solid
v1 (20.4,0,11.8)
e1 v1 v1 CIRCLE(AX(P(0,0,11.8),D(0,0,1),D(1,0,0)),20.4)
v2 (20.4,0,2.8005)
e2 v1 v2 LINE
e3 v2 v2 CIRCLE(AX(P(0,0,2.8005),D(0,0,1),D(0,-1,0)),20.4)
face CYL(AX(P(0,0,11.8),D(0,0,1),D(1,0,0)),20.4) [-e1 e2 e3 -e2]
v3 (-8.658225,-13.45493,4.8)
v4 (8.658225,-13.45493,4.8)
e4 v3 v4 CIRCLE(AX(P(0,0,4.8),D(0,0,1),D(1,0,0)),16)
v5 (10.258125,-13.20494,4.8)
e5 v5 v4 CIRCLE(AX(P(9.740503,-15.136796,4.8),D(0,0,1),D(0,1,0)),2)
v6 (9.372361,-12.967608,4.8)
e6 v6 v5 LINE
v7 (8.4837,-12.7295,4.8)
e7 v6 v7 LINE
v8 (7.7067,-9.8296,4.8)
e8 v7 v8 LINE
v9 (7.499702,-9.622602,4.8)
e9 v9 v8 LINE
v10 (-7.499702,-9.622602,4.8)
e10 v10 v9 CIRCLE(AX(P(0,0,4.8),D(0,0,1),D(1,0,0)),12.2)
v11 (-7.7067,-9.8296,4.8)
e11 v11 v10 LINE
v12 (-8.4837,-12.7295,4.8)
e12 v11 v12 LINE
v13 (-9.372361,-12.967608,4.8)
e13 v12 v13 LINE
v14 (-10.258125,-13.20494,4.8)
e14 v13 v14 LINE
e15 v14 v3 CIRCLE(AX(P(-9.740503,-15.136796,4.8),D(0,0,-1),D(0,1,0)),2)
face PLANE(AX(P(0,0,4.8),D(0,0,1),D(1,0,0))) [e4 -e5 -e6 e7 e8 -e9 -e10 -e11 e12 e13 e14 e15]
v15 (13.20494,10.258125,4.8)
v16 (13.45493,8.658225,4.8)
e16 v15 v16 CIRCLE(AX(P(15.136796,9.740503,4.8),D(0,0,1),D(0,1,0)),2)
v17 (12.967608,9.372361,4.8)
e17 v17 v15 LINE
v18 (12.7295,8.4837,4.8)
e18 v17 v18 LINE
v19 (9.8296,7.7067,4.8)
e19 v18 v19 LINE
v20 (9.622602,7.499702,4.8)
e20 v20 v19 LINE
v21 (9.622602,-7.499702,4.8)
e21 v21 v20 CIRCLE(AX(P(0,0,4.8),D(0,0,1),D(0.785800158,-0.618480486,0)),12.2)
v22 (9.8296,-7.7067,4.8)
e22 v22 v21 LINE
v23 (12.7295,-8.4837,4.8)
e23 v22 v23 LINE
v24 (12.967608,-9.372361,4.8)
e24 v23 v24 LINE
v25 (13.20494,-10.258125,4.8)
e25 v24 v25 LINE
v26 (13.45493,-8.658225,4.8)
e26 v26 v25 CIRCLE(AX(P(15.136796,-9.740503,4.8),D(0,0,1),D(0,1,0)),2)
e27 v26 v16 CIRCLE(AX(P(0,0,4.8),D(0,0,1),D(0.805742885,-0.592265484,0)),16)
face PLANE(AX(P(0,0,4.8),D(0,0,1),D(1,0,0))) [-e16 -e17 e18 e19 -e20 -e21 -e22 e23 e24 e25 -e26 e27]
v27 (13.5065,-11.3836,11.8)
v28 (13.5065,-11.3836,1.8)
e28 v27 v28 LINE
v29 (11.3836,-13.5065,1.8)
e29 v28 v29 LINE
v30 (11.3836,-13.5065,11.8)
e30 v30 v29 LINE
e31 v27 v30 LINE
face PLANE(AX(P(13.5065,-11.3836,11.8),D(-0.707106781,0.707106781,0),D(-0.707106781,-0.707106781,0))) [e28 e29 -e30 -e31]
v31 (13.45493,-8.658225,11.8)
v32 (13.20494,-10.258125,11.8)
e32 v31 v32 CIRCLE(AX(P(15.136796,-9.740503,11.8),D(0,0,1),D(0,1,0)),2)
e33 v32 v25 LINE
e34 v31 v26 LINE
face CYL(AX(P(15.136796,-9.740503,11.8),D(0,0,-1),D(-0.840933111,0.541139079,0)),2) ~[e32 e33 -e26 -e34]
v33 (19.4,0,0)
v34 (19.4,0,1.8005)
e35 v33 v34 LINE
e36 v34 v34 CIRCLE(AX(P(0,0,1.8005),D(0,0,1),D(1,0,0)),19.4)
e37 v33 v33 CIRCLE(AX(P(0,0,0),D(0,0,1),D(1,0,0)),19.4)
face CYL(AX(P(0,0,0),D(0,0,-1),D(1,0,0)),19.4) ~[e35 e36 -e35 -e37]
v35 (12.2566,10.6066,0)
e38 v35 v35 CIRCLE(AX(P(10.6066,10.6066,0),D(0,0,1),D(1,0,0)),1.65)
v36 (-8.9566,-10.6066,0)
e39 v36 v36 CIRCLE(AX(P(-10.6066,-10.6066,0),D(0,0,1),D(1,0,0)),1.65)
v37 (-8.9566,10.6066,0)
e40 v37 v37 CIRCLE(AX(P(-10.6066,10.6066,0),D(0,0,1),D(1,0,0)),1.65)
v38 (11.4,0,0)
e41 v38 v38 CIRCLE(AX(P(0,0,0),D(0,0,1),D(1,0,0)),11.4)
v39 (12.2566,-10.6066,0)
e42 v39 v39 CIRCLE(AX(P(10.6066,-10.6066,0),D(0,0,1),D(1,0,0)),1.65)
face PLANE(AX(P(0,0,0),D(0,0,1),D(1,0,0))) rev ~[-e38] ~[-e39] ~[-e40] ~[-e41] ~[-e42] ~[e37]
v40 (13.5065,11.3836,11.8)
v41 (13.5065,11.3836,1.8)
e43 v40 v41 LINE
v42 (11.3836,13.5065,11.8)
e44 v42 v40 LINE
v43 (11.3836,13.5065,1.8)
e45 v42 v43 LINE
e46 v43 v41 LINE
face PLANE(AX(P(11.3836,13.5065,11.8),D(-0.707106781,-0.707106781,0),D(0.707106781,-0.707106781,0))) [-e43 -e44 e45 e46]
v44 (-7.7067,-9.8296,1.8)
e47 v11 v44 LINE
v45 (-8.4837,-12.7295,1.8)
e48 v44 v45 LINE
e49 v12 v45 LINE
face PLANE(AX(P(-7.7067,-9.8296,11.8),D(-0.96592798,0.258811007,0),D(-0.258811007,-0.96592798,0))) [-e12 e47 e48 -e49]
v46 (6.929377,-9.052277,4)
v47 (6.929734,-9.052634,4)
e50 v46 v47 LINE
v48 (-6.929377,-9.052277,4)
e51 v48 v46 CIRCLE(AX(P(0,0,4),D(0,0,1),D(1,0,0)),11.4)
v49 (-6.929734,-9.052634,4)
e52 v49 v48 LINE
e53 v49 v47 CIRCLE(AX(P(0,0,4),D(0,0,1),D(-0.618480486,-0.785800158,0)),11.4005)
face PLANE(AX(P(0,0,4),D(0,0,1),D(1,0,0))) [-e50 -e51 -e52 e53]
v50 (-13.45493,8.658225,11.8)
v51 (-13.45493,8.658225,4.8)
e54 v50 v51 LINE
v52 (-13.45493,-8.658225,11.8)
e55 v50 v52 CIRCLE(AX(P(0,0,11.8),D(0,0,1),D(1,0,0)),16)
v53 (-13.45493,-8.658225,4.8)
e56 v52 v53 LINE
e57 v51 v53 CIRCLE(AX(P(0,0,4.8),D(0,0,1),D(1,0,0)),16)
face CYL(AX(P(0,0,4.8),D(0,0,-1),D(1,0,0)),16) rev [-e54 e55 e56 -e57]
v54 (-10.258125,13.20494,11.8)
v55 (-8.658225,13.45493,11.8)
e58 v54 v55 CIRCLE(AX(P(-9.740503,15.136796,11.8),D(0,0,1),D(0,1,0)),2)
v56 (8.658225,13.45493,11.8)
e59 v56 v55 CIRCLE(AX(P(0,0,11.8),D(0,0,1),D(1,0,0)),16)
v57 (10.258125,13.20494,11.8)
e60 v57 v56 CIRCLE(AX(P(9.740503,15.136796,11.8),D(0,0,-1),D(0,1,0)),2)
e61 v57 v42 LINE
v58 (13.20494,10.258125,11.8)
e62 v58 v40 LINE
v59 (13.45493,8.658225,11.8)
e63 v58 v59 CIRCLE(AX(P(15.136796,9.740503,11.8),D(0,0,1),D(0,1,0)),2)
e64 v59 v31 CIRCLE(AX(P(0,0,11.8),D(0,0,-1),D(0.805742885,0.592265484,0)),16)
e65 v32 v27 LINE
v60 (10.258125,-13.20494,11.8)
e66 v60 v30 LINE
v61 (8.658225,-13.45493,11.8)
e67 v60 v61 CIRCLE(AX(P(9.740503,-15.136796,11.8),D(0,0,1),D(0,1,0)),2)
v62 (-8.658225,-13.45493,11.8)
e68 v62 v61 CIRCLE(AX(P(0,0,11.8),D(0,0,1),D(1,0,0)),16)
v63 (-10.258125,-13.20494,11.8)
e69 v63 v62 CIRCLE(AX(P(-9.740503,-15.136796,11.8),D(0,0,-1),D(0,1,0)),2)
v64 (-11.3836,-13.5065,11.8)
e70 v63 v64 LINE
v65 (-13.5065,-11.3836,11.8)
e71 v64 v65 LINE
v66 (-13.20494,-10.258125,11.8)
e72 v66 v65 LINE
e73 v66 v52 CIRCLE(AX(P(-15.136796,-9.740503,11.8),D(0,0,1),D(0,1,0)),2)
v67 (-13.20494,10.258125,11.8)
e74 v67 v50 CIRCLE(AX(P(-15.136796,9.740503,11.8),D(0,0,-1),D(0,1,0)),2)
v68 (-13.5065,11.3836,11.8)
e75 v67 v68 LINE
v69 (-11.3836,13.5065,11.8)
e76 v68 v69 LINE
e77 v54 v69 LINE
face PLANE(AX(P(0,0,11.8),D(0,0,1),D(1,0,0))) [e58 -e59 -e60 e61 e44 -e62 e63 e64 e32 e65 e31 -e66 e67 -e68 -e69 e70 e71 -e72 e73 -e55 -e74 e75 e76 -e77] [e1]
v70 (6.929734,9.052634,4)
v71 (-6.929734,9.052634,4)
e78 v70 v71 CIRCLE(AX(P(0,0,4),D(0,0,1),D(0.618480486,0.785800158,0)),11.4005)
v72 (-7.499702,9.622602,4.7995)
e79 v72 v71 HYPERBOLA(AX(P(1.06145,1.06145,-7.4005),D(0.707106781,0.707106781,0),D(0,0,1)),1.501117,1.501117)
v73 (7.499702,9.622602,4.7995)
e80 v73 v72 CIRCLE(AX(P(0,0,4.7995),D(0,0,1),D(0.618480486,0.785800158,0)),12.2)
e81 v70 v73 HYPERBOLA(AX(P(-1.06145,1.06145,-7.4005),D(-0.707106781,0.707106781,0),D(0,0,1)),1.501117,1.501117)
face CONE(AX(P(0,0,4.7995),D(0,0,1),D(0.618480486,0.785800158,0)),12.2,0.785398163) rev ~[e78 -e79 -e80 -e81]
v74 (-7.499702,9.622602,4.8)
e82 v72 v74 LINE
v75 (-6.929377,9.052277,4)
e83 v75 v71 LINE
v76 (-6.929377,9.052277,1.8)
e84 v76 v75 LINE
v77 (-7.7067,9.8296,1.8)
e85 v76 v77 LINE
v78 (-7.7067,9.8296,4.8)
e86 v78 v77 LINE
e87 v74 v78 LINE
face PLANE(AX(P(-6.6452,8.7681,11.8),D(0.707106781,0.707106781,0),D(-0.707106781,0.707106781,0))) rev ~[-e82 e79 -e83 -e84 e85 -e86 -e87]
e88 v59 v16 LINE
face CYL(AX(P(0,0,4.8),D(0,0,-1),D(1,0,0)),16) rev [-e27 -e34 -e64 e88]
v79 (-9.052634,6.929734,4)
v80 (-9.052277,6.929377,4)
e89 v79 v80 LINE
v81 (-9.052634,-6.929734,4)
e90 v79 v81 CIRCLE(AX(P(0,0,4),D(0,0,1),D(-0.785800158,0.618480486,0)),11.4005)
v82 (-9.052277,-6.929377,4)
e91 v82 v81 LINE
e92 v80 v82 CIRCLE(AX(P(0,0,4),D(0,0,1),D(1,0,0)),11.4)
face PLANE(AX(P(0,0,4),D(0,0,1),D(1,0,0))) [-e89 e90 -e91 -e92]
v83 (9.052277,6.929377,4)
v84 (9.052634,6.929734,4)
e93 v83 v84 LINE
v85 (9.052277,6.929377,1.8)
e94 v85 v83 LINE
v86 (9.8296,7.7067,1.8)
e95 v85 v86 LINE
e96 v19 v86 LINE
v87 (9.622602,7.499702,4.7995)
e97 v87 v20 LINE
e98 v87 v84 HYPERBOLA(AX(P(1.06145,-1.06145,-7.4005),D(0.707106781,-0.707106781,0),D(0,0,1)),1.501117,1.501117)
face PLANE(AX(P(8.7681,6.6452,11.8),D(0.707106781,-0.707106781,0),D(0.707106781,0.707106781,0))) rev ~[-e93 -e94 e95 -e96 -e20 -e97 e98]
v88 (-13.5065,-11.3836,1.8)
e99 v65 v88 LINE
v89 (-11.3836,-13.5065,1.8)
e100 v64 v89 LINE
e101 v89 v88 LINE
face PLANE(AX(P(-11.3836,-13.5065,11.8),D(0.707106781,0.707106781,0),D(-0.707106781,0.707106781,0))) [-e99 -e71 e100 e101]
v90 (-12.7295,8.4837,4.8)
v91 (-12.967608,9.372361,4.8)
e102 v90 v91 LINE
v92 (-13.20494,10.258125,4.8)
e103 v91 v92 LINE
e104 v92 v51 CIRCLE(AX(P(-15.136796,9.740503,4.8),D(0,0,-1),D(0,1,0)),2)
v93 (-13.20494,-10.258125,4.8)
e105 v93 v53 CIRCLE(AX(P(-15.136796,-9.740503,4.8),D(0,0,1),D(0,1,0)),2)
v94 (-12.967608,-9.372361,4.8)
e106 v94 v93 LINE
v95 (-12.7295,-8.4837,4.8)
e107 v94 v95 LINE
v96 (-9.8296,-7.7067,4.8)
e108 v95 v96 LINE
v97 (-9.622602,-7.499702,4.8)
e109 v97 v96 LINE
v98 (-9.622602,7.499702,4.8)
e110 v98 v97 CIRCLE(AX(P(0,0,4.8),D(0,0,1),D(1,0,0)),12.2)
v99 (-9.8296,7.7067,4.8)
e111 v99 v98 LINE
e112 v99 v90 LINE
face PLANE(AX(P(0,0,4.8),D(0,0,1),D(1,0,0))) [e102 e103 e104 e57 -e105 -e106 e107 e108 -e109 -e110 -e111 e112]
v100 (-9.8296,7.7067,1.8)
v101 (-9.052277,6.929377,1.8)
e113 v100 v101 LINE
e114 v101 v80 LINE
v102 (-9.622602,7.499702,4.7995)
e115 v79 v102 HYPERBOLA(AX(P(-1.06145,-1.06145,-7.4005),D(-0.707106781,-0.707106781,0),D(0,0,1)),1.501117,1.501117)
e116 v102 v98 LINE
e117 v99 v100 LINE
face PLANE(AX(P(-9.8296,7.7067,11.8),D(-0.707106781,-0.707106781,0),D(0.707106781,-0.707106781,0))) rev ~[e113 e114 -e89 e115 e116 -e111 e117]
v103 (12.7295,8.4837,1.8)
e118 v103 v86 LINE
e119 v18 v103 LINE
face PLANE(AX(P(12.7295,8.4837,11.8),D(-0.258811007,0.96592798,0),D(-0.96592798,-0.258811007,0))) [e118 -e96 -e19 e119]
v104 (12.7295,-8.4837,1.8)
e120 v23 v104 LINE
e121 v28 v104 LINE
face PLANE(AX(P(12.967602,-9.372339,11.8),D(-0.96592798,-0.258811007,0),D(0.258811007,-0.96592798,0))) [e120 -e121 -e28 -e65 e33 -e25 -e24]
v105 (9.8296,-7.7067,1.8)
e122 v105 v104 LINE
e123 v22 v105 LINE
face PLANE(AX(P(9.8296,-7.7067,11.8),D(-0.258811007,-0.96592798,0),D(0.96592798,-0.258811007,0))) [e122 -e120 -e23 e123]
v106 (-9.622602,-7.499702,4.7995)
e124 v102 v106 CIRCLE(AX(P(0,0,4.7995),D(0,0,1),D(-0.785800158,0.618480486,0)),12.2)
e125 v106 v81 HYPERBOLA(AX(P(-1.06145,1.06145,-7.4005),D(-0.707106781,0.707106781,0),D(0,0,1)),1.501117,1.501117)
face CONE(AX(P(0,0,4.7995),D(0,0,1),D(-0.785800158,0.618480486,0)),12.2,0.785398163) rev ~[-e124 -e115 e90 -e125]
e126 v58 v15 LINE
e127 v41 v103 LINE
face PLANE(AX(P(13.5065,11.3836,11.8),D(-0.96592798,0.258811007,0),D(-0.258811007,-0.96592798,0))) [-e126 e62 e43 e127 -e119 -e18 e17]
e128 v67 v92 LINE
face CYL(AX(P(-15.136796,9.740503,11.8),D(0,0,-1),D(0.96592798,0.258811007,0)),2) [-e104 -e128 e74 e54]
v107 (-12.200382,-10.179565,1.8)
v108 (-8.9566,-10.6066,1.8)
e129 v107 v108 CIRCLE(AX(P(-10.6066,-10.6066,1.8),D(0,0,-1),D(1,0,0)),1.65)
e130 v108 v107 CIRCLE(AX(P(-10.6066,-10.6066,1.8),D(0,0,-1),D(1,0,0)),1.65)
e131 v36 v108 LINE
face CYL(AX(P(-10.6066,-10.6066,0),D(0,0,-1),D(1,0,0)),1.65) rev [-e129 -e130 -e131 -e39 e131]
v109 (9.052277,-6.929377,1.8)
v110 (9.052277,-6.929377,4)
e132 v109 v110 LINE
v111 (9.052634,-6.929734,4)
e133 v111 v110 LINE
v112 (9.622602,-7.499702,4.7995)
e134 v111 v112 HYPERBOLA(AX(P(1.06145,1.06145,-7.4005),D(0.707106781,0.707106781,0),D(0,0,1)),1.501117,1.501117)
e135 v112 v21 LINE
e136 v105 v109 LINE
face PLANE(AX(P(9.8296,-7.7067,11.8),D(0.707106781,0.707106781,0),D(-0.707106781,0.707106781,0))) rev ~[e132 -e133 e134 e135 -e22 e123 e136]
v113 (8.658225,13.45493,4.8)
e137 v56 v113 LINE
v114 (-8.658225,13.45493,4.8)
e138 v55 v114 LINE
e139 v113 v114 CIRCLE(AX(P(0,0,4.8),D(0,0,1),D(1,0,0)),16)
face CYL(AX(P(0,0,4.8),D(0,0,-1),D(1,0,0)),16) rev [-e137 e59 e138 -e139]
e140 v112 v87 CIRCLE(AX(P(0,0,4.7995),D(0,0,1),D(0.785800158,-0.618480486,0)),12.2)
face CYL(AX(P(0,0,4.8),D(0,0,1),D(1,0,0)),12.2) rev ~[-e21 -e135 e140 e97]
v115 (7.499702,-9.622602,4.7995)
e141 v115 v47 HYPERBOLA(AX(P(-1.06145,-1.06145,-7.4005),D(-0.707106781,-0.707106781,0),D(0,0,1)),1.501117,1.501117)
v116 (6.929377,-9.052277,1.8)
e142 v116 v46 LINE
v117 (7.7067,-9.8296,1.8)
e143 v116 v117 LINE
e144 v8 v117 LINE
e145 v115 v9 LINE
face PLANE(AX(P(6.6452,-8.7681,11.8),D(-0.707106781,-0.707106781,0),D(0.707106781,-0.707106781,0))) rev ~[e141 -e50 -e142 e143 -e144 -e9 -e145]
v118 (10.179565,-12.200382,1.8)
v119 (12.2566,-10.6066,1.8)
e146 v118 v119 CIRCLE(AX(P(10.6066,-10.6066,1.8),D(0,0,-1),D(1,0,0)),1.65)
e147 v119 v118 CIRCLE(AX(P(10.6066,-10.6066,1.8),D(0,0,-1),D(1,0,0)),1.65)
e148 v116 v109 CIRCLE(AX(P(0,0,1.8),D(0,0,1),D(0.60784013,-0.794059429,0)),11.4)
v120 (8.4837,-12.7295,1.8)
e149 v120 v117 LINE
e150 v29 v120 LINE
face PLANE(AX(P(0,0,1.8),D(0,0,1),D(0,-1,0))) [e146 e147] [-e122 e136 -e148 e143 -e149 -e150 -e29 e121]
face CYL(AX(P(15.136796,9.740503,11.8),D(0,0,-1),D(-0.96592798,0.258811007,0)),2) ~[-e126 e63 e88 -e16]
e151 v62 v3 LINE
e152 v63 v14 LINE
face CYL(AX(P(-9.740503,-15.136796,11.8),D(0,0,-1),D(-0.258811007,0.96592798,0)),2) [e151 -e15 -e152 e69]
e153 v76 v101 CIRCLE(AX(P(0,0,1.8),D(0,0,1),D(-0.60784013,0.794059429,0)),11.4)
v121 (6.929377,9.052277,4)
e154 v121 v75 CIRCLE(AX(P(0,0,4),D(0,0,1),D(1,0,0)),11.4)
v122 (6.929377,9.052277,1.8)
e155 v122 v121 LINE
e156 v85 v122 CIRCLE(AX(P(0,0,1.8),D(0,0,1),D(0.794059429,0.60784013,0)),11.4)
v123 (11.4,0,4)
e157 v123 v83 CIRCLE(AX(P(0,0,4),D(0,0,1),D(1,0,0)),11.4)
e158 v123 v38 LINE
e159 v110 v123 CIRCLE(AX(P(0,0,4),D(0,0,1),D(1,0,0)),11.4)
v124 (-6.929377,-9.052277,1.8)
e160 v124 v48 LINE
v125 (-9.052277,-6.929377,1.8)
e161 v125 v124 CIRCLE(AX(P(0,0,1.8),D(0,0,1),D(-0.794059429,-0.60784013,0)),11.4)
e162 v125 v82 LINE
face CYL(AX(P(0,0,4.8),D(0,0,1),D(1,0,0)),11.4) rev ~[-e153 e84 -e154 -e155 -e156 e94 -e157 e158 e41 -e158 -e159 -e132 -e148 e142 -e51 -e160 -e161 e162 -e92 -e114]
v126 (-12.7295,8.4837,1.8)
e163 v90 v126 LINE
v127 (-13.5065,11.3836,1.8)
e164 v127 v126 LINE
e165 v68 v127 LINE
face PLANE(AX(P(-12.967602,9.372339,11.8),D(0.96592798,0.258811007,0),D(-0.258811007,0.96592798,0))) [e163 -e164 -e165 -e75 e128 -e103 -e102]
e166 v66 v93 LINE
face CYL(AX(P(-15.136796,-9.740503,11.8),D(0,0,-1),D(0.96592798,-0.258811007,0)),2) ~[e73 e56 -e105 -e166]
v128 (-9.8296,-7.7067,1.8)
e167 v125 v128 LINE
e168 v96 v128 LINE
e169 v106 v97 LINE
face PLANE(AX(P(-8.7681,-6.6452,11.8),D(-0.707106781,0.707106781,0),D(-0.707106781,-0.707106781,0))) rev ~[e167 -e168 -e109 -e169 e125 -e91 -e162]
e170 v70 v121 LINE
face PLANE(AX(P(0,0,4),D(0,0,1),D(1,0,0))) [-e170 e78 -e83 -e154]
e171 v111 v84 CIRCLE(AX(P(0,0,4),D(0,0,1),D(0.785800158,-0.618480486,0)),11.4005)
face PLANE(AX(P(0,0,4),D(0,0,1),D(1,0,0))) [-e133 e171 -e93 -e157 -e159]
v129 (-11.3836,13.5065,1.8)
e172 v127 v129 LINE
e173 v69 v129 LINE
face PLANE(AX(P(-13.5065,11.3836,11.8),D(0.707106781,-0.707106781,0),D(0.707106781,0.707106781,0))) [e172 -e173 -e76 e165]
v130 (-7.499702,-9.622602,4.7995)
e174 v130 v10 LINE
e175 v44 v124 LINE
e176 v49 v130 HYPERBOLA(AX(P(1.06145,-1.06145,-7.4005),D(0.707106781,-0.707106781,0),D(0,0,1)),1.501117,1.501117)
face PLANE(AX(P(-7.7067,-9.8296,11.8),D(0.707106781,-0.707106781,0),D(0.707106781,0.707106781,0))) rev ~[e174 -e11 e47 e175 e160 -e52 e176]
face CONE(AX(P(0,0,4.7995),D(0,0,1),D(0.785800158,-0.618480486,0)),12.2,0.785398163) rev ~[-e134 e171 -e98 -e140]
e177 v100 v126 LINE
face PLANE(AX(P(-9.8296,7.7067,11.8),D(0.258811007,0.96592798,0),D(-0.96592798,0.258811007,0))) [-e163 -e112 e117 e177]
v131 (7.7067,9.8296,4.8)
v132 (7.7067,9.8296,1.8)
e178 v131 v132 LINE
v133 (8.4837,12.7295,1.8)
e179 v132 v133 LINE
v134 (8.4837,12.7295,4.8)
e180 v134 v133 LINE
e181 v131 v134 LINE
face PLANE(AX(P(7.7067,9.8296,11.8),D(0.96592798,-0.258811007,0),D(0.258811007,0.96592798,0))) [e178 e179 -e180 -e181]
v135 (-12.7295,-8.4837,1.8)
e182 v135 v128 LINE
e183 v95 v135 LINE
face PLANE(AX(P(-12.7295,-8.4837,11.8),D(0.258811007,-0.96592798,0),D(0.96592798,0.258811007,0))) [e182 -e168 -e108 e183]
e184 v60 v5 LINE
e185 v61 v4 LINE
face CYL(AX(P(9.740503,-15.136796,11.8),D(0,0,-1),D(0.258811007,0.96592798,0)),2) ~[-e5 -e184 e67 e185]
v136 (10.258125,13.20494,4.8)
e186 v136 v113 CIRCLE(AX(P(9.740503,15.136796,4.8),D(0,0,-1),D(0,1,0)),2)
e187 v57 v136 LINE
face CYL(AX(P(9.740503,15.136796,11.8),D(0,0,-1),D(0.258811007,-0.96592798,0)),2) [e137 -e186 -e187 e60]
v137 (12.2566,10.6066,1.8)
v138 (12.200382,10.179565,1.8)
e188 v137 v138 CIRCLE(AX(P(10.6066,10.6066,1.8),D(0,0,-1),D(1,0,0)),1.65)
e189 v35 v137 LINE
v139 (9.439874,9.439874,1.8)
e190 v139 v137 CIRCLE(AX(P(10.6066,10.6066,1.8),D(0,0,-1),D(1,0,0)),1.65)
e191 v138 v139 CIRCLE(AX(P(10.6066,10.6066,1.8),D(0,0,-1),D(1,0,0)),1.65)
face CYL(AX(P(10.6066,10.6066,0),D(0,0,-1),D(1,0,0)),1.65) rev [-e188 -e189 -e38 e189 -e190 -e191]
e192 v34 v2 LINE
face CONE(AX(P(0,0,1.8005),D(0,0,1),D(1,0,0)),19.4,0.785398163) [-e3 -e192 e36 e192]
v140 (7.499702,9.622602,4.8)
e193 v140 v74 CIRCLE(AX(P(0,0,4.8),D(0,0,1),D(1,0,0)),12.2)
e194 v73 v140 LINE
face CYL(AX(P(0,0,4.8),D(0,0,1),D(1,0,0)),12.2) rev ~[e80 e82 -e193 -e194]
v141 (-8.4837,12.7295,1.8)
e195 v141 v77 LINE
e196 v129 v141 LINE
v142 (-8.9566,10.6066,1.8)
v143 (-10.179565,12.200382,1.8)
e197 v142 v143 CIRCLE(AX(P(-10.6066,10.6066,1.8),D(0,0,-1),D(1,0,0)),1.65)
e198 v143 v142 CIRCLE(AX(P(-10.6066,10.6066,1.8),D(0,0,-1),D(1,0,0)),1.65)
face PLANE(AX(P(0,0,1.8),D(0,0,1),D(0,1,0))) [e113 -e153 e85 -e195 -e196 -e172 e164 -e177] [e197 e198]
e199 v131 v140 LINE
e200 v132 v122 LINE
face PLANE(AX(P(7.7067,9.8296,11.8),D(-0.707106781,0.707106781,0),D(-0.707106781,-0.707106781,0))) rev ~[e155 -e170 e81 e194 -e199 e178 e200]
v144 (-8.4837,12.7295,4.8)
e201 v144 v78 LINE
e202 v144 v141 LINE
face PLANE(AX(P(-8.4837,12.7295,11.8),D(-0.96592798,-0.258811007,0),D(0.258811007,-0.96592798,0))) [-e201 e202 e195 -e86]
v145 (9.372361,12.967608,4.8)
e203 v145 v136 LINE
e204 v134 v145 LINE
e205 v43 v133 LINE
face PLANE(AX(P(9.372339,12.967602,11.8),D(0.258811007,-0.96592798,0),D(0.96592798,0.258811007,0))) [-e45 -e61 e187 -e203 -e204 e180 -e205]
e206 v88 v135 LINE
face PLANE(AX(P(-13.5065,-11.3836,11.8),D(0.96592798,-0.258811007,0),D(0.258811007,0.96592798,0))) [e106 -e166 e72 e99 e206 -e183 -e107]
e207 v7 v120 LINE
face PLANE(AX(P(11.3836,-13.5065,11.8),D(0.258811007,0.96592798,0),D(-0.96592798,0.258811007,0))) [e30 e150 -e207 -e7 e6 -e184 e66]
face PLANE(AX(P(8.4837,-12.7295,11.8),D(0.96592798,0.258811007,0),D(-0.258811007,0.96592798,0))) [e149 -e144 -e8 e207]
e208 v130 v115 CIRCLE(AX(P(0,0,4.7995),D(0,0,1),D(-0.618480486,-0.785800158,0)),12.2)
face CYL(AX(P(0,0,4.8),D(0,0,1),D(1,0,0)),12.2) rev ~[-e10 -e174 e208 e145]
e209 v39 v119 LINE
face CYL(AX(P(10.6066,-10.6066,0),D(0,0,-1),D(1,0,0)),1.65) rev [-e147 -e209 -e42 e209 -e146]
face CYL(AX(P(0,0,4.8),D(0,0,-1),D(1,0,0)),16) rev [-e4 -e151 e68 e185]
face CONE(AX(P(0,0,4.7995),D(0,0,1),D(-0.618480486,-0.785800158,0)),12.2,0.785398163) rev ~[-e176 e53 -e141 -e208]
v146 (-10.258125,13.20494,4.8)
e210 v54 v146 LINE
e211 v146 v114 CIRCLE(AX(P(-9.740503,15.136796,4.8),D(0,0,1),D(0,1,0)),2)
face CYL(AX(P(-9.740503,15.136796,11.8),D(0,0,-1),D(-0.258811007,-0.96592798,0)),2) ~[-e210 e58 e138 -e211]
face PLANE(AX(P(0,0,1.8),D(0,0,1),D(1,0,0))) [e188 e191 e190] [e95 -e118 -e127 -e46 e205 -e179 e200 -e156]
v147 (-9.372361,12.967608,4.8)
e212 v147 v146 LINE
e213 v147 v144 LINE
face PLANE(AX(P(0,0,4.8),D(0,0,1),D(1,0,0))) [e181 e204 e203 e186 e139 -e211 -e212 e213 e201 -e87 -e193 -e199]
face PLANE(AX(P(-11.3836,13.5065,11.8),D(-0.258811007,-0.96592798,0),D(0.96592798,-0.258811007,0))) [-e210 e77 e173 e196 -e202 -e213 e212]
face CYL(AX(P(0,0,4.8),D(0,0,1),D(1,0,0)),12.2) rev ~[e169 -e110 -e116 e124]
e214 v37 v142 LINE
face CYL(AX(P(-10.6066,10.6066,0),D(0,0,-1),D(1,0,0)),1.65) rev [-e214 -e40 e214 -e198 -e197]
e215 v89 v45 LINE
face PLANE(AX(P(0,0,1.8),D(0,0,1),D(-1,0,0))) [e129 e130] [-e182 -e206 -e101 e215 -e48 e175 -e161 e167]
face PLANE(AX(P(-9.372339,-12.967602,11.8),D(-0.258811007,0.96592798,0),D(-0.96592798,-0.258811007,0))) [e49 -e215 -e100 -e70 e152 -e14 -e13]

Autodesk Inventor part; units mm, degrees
ref_plane "YZ Plane" through (0, 0, 0) normal (1, 0, 0) x (0, 1, 0)
ref_plane "XZ Plane" through (0, 0, 0) normal (0, 1, 0) x (-1, 0, 0)
ref_plane "XY Plane" through (0, 0, 0) normal (0, 0, 1) x (1, 0, 0)
sketch "스케치1" plane through (0, 0, 0) normal (0, 0, 1) x (1, 0, 0)
  circle A0 centre (0, 0) radius 19.4
  circle A1 centre (10.6066, 10.6066) radius 1.65
  circle A2 centre (0, 0) radius 11
  circle A3 centre (-10.6066, 10.6066) radius 1.65
  circle A4 centre (-10.6066, -10.6066) radius 1.65
  circle A5 centre (10.6066, -10.6066) radius 1.65
  dimension "d1" = 22
  dimension "d5" = 360
extrude "돌출1" add sketch "스케치1" along normal blind 4.8
sketch "스케치2" plane through (0, 0, 4.8) normal (0, 0, 1) x (1, 0, 0)
  circle A0 centre (0, 0) radius 19.4 projected
  circle A1 centre (10.6066, -10.6066) radius 1.65 projected
  circle A2 centre (-10.6066, -10.6066) radius 1.65 projected
  circle A3 centre (-10.6066, 10.6066) radius 1.65 projected
  circle A4 centre (0, 0) radius 11 projected
  circle A5 centre (10.6066, 10.6066) radius 1.65 projected
  line L0 (10.6066, 10.6066) -> (8.8388, 8.8388)
  line L1 (10.6066, 10.6066) -> (13.1066, 10.6066) construction
  line L2 (7.8182, 9.8595) -> (8.5654, 12.6478)
  line L3 (8.5654, 12.6478) -> (11.3537, 13.395)
  line L4 (11.3537, 13.395) -> (13.395, 11.3537)
  line L5 (13.395, 11.3537) -> (12.6478, 8.5654)
  line L6 (12.6478, 8.5654) -> (9.8595, 7.8182)
  line L7 (9.8595, 7.8182) -> (7.8182, 9.8595)
  line L8 (-10.6066, 10.6066) -> (-10.6066, 13.1066) construction
  line L9 (-13.395, 11.3537) -> (-11.3537, 13.395)
  line L10 (-11.3537, 13.395) -> (-8.5654, 12.6478)
  line L11 (-8.5654, 12.6478) -> (-7.8182, 9.8595)
  line L12 (-7.8182, 9.8595) -> (-9.8595, 7.8182)
  line L13 (-12.6478, 8.5654) -> (-13.395, 11.3537)
  line L14 (-9.8595, 7.8182) -> (-12.6478, 8.5654)
  line L15 (-10.6066, -10.6066) -> (-13.1066, -10.6066) construction
  line L16 (-11.3537, -13.395) -> (-13.395, -11.3537)
  line L17 (-13.395, -11.3537) -> (-12.6478, -8.5654)
  line L18 (-12.6478, -8.5654) -> (-9.8595, -7.8182)
  line L19 (-9.8595, -7.8182) -> (-7.8182, -9.8595)
  line L20 (-8.5654, -12.6478) -> (-11.3537, -13.395)
  line L21 (-7.8182, -9.8595) -> (-8.5654, -12.6478)
  line L22 (10.6066, -10.6066) -> (10.6066, -13.1066) construction
  line L23 (13.395, -11.3537) -> (11.3537, -13.395)
  line L24 (11.3537, -13.395) -> (8.5654, -12.6478)
  line L25 (8.5654, -12.6478) -> (7.8182, -9.8595)
  line L26 (7.8182, -9.8595) -> (9.8595, -7.8182)
  line L27 (12.6478, -8.5654) -> (13.395, -11.3537)
  line L28 (9.8595, -7.8182) -> (12.6478, -8.5654)
  point P0 (-8.8388, 8.8388)
  point P1 (-8.8388, -8.8388)
  point P2 (8.8388, -8.8388)
  dimension "d9" = 2.5
  dimension "d10" = 135
  dimension "d13" = 360
extrude "돌출2" cut sketch "스케치2" against normal blind 3 contours A1 | A2 | A3 | A5 | L7 L2 L3 L4 L5 L6 | L9 L10 L11 L12 L14 L13 | L16 L17 L18 L19 L21 L20 | L23 L24 L25 L26 L28 L27
sketch "스케치3" plane through (0, 0, 4.8) normal (0, 0, 1) x (1, 0, 0)
  circle A0 centre (0, 0) radius 16
  circle A1 centre (0, 0) radius 22.4
  line L0 (-7.8182, 9.8595) -> (-9.8595, 7.8182) projected
  line L1 (-9.8595, 7.8182) -> (-12.6478, 8.5654) projected
  line L2 (-12.6478, 8.5654) -> (-13.395, 11.3537) projected
  line L3 (-13.395, 11.3537) -> (-11.3537, 13.395) projected
  line L4 (-11.3537, 13.395) -> (-8.5654, 12.6478) projected
  line L5 (-8.5654, 12.6478) -> (-7.8182, 9.8595) projected
  line L6 (-9.8595, -7.8182) -> (-7.8182, -9.8595) projected
  line L7 (-7.8182, -9.8595) -> (-8.5654, -12.6478) projected
  line L8 (-8.5654, -12.6478) -> (-11.3537, -13.395) projected
  line L9 (-11.3537, -13.395) -> (-13.395, -11.3537) projected
  line L10 (-13.395, -11.3537) -> (-12.6478, -8.5654) projected
  line L11 (-12.6478, -8.5654) -> (-9.8595, -7.8182) projected
  line L12 (13.395, 11.3537) -> (12.6478, 8.5654) projected
  line L13 (12.6478, 8.5654) -> (9.8595, 7.8182) projected
  line L14 (9.8595, 7.8182) -> (7.8182, 9.8595) projected
  line L15 (7.8182, 9.8595) -> (8.5654, 12.6478) projected
  line L16 (8.5654, 12.6478) -> (11.3537, 13.395) projected
  line L17 (11.3537, 13.395) -> (13.395, 11.3537) projected
  line L18 (7.8182, -9.8595) -> (9.8595, -7.8182) projected
  line L19 (9.8595, -7.8182) -> (12.6478, -8.5654) projected
  line L20 (12.6478, -8.5654) -> (13.395, -11.3537) projected
  line L21 (13.395, -11.3537) -> (11.3537, -13.395) projected
  line L22 (11.3537, -13.395) -> (8.5654, -12.6478) projected
  line L23 (8.5654, -12.6478) -> (7.8182, -9.8595) projected
  circle A2 centre (0, 0) radius 19.4 projected
  circle A3 centre (0, 0) radius 11 projected
  point P0 (-9.4762, 12.8919)
  point P1 (9.4762, 12.8919)
  point P2 (12.8919, 9.4762)
  point P3 (12.8919, -9.4762)
  point P4 (9.4762, -12.8919)
  point P5 (-9.4762, -12.8919)
  point P6 (-12.8919, -9.4762)
  point P7 (-12.8919, 9.4762)
  dimension "d17" = 32
  dimension "d18" = 6.4
extrude "돌출3" add sketch "스케치3" along normal blind 7 contours A1 | A2
chamfer "모따기1" distance 3 angle 45 1 edges at (-19.4, 0, 4.8)
sketch "스케치4" plane through (0, 0, 4.8) normal (0, 0, 1) x (1, 0, 0)
  circle A0 centre (0, 0) radius 11 projected
  arc A1 (12.8919, -9.4762) -> (12.8919, 9.4762) centre (0, 0) ccw projected
  line L0 (12.8919, 9.4762) -> (12.6478, 8.5654) projected
  line L1 (12.6478, 8.5654) -> (9.8595, 7.8182) projected
  line L2 (9.8595, 7.8182) -> (7.8182, 9.8595) projected
  line L3 (7.8182, 9.8595) -> (8.5654, 12.6478) projected
  line L4 (8.5654, 12.6478) -> (9.4762, 12.8919) projected
  arc A2 (9.4762, 12.8919) -> (-9.4762, 12.8919) centre (0, 0) ccw projected
  line L5 (-9.4762, 12.8919) -> (-8.5654, 12.6478) projected
  line L6 (-8.5654, 12.6478) -> (-7.8182, 9.8595) projected
  line L7 (-7.8182, 9.8595) -> (-9.8595, 7.8182) projected
  line L8 (-9.8595, 7.8182) -> (-12.6478, 8.5654) projected
  line L9 (-12.6478, 8.5654) -> (-12.8919, 9.4762) projected
  arc A3 (-12.8919, 9.4762) -> (-12.8919, -9.4762) centre (0, 0) ccw projected
  line L10 (-12.8919, -9.4762) -> (-12.6478, -8.5654) projected
  line L11 (-12.6478, -8.5654) -> (-9.8595, -7.8182) projected
  line L12 (-9.8595, -7.8182) -> (-7.8182, -9.8595) projected
  line L13 (-7.8182, -9.8595) -> (-8.5654, -12.6478) projected
  line L14 (-8.5654, -12.6478) -> (-9.4762, -12.8919) projected
  arc A4 (-9.4762, -12.8919) -> (9.4762, -12.8919) centre (0, 0) ccw projected
  line L15 (9.4762, -12.8919) -> (8.5654, -12.6478) projected
  line L16 (8.5654, -12.6478) -> (7.8182, -9.8595) projected
  line L17 (7.8182, -9.8595) -> (9.8595, -7.8182) projected
  line L18 (9.8595, -7.8182) -> (12.6478, -8.5654) projected
  line L19 (12.6478, -8.5654) -> (12.8919, -9.4762) projected
  circle A5 centre (0, 0) radius 11.4
  line L20 (9.8595, 7.8182) -> (9.0168, 6.9755)
  line L21 (8.8388, 8.8388) -> (8.4116, 8.4116)
  line L22 (7.8182, 9.8595) -> (6.9755, 9.0168)
  line L23 (-7.8182, 9.8595) -> (-6.9755, 9.0168)
  line L24 (-9.8595, 7.8182) -> (-9.0168, 6.9755)
  line L25 (-9.8595, -7.8182) -> (-9.0168, -6.9755)
  line L26 (-7.8182, -9.8595) -> (-6.9755, -9.0168)
  line L27 (7.8182, -9.8595) -> (6.9755, -9.0168)
  line L28 (9.8595, -7.8182) -> (9.0168, -6.9755)
  dimension "d24" = 0.4
  dimension "d27" = 360
extrude "돌출4" cut sketch "스케치4" against normal blind 7 contours A5
extrude "돌출5" cut sketch "스케치4" against normal up to surface (3 mm away) contours L17 L27 A5 L28 | L20 A5 L22 L2 | L26 L12 L25 A5 | A5 L24 L7 L23
sketch "스케치5" plane through (0, 0, 11.8) normal (0, 0, 1) x (1, 0, 0)
  circle A0 centre (0, 0) radius 22.4 projected
  circle A1 centre (0, 0) radius 20.4
  dimension "d33" = 2
extrude "돌출6" cut sketch "스케치5" against normal blind 10
sketch "스케치6" plane through (0, 0, 4.8) normal (0, 0, 1) x (1, 0, 0)
  circle A0 centre (0, 0) radius 12.2
  dimension "d36" = 24.4
extrude "돌출7" cut sketch "스케치6" against normal blind 0.8
chamfer "모따기2" distance 0.8 angle 45 4 edges at (12.2, 0, 4) (0, -12.2, 4) (0, 12.2, 4) (-12.2, 0, 4)
sketch "스케치7" plane through (0, 0, 11.8) normal (0, 0, 1) x (1, 0, 0)
  circle A0 centre (0, 0) radius 20.4 projected
  line L0 (-13.395, 11.3537) -> (-11.3537, 13.395) projected
  line L1 (-11.3537, 13.395) -> (-9.4762, 12.8919) projected
  arc A1 (9.4762, 12.8919) -> (-9.4762, 12.8919) centre (0, 0) ccw projected
  line L2 (9.4762, 12.8919) -> (11.3537, 13.395) projected
  line L3 (11.3537, 13.395) -> (13.395, 11.3537) projected
  line L4 (13.395, 11.3537) -> (12.8919, 9.4762) projected
  arc A2 (12.8919, -9.4762) -> (12.8919, 9.4762) centre (0, 0) ccw projected
  line L5 (12.8919, -9.4762) -> (13.395, -11.3537) projected
  line L6 (13.395, -11.3537) -> (11.3537, -13.395) projected
  line L7 (11.3537, -13.395) -> (9.4762, -12.8919) projected
  arc A3 (-9.4762, -12.8919) -> (9.4762, -12.8919) centre (0, 0) ccw projected
  line L8 (-9.4762, -12.8919) -> (-11.3537, -13.395) projected
  line L9 (-11.3537, -13.395) -> (-13.395, -11.3537) projected
  line L10 (-13.395, -11.3537) -> (-12.8919, -9.4762) projected
  arc A4 (-12.8919, 9.4762) -> (-12.8919, -9.4762) centre (0, 0) ccw projected
  line L11 (-12.8919, 9.4762) -> (-13.395, 11.3537) projected
  circle A5 centre (10.6066, 10.6066) radius 1.65 projected
  line L12 (10.6066, 10.6066) -> (13.118, 9.9337)
  line L13 (12.7295, 8.4837) -> (9.8296, 7.7067)
  line L14 (7.7067, 9.8296) -> (8.4837, 12.7295)
  line L15 (8.4837, 12.7295) -> (11.3836, 13.5065)
  line L16 (11.3836, 13.5065) -> (13.5065, 11.3836)
  line L17 (13.5065, 11.3836) -> (12.7295, 8.4837)
  line L18 (7.7067, 9.8296) -> (6.6452, 8.7681)
  line L19 (6.6452, 8.7681) -> (8.7681, 6.6452)
  line L20 (8.7681, 6.6452) -> (9.8296, 7.7067)
  point P0 (9.3724, 12.9676)
  point P1 (12.9676, 9.3724)
  dimension "d42" = 2.6
extrude "돌출8" cut sketch "스케치7" against normal up to surface (10 mm away) contours L15 L16 L17 L12 L4 L3 L2 A1 | A1 L2 L3 L4 A2 L17 L13 L20 L19 L18 L14 L15 | L17 A2 L4 L12
pattern_circular "원형 패턴1" count 4 over 360 about axis through (0, 0, 4.8) along (0, 0, -1) of "돌출8"
fillet "모깎기1" radius 2 8 edges at (12.9676, 9.3724, 8.3) (9.3724, 12.9676, 8.3) (12.9676, -9.3724, 8.3) (9.3724, -12.9676, 8.3) (-9.3724, -12.9676, 8.3) (-12.9676, -9.3724, 8.3) (-12.9676, 9.3724, 8.3) (-9.3724, 12.9676, 8.3)
properties part number "ShaftLock_B"
